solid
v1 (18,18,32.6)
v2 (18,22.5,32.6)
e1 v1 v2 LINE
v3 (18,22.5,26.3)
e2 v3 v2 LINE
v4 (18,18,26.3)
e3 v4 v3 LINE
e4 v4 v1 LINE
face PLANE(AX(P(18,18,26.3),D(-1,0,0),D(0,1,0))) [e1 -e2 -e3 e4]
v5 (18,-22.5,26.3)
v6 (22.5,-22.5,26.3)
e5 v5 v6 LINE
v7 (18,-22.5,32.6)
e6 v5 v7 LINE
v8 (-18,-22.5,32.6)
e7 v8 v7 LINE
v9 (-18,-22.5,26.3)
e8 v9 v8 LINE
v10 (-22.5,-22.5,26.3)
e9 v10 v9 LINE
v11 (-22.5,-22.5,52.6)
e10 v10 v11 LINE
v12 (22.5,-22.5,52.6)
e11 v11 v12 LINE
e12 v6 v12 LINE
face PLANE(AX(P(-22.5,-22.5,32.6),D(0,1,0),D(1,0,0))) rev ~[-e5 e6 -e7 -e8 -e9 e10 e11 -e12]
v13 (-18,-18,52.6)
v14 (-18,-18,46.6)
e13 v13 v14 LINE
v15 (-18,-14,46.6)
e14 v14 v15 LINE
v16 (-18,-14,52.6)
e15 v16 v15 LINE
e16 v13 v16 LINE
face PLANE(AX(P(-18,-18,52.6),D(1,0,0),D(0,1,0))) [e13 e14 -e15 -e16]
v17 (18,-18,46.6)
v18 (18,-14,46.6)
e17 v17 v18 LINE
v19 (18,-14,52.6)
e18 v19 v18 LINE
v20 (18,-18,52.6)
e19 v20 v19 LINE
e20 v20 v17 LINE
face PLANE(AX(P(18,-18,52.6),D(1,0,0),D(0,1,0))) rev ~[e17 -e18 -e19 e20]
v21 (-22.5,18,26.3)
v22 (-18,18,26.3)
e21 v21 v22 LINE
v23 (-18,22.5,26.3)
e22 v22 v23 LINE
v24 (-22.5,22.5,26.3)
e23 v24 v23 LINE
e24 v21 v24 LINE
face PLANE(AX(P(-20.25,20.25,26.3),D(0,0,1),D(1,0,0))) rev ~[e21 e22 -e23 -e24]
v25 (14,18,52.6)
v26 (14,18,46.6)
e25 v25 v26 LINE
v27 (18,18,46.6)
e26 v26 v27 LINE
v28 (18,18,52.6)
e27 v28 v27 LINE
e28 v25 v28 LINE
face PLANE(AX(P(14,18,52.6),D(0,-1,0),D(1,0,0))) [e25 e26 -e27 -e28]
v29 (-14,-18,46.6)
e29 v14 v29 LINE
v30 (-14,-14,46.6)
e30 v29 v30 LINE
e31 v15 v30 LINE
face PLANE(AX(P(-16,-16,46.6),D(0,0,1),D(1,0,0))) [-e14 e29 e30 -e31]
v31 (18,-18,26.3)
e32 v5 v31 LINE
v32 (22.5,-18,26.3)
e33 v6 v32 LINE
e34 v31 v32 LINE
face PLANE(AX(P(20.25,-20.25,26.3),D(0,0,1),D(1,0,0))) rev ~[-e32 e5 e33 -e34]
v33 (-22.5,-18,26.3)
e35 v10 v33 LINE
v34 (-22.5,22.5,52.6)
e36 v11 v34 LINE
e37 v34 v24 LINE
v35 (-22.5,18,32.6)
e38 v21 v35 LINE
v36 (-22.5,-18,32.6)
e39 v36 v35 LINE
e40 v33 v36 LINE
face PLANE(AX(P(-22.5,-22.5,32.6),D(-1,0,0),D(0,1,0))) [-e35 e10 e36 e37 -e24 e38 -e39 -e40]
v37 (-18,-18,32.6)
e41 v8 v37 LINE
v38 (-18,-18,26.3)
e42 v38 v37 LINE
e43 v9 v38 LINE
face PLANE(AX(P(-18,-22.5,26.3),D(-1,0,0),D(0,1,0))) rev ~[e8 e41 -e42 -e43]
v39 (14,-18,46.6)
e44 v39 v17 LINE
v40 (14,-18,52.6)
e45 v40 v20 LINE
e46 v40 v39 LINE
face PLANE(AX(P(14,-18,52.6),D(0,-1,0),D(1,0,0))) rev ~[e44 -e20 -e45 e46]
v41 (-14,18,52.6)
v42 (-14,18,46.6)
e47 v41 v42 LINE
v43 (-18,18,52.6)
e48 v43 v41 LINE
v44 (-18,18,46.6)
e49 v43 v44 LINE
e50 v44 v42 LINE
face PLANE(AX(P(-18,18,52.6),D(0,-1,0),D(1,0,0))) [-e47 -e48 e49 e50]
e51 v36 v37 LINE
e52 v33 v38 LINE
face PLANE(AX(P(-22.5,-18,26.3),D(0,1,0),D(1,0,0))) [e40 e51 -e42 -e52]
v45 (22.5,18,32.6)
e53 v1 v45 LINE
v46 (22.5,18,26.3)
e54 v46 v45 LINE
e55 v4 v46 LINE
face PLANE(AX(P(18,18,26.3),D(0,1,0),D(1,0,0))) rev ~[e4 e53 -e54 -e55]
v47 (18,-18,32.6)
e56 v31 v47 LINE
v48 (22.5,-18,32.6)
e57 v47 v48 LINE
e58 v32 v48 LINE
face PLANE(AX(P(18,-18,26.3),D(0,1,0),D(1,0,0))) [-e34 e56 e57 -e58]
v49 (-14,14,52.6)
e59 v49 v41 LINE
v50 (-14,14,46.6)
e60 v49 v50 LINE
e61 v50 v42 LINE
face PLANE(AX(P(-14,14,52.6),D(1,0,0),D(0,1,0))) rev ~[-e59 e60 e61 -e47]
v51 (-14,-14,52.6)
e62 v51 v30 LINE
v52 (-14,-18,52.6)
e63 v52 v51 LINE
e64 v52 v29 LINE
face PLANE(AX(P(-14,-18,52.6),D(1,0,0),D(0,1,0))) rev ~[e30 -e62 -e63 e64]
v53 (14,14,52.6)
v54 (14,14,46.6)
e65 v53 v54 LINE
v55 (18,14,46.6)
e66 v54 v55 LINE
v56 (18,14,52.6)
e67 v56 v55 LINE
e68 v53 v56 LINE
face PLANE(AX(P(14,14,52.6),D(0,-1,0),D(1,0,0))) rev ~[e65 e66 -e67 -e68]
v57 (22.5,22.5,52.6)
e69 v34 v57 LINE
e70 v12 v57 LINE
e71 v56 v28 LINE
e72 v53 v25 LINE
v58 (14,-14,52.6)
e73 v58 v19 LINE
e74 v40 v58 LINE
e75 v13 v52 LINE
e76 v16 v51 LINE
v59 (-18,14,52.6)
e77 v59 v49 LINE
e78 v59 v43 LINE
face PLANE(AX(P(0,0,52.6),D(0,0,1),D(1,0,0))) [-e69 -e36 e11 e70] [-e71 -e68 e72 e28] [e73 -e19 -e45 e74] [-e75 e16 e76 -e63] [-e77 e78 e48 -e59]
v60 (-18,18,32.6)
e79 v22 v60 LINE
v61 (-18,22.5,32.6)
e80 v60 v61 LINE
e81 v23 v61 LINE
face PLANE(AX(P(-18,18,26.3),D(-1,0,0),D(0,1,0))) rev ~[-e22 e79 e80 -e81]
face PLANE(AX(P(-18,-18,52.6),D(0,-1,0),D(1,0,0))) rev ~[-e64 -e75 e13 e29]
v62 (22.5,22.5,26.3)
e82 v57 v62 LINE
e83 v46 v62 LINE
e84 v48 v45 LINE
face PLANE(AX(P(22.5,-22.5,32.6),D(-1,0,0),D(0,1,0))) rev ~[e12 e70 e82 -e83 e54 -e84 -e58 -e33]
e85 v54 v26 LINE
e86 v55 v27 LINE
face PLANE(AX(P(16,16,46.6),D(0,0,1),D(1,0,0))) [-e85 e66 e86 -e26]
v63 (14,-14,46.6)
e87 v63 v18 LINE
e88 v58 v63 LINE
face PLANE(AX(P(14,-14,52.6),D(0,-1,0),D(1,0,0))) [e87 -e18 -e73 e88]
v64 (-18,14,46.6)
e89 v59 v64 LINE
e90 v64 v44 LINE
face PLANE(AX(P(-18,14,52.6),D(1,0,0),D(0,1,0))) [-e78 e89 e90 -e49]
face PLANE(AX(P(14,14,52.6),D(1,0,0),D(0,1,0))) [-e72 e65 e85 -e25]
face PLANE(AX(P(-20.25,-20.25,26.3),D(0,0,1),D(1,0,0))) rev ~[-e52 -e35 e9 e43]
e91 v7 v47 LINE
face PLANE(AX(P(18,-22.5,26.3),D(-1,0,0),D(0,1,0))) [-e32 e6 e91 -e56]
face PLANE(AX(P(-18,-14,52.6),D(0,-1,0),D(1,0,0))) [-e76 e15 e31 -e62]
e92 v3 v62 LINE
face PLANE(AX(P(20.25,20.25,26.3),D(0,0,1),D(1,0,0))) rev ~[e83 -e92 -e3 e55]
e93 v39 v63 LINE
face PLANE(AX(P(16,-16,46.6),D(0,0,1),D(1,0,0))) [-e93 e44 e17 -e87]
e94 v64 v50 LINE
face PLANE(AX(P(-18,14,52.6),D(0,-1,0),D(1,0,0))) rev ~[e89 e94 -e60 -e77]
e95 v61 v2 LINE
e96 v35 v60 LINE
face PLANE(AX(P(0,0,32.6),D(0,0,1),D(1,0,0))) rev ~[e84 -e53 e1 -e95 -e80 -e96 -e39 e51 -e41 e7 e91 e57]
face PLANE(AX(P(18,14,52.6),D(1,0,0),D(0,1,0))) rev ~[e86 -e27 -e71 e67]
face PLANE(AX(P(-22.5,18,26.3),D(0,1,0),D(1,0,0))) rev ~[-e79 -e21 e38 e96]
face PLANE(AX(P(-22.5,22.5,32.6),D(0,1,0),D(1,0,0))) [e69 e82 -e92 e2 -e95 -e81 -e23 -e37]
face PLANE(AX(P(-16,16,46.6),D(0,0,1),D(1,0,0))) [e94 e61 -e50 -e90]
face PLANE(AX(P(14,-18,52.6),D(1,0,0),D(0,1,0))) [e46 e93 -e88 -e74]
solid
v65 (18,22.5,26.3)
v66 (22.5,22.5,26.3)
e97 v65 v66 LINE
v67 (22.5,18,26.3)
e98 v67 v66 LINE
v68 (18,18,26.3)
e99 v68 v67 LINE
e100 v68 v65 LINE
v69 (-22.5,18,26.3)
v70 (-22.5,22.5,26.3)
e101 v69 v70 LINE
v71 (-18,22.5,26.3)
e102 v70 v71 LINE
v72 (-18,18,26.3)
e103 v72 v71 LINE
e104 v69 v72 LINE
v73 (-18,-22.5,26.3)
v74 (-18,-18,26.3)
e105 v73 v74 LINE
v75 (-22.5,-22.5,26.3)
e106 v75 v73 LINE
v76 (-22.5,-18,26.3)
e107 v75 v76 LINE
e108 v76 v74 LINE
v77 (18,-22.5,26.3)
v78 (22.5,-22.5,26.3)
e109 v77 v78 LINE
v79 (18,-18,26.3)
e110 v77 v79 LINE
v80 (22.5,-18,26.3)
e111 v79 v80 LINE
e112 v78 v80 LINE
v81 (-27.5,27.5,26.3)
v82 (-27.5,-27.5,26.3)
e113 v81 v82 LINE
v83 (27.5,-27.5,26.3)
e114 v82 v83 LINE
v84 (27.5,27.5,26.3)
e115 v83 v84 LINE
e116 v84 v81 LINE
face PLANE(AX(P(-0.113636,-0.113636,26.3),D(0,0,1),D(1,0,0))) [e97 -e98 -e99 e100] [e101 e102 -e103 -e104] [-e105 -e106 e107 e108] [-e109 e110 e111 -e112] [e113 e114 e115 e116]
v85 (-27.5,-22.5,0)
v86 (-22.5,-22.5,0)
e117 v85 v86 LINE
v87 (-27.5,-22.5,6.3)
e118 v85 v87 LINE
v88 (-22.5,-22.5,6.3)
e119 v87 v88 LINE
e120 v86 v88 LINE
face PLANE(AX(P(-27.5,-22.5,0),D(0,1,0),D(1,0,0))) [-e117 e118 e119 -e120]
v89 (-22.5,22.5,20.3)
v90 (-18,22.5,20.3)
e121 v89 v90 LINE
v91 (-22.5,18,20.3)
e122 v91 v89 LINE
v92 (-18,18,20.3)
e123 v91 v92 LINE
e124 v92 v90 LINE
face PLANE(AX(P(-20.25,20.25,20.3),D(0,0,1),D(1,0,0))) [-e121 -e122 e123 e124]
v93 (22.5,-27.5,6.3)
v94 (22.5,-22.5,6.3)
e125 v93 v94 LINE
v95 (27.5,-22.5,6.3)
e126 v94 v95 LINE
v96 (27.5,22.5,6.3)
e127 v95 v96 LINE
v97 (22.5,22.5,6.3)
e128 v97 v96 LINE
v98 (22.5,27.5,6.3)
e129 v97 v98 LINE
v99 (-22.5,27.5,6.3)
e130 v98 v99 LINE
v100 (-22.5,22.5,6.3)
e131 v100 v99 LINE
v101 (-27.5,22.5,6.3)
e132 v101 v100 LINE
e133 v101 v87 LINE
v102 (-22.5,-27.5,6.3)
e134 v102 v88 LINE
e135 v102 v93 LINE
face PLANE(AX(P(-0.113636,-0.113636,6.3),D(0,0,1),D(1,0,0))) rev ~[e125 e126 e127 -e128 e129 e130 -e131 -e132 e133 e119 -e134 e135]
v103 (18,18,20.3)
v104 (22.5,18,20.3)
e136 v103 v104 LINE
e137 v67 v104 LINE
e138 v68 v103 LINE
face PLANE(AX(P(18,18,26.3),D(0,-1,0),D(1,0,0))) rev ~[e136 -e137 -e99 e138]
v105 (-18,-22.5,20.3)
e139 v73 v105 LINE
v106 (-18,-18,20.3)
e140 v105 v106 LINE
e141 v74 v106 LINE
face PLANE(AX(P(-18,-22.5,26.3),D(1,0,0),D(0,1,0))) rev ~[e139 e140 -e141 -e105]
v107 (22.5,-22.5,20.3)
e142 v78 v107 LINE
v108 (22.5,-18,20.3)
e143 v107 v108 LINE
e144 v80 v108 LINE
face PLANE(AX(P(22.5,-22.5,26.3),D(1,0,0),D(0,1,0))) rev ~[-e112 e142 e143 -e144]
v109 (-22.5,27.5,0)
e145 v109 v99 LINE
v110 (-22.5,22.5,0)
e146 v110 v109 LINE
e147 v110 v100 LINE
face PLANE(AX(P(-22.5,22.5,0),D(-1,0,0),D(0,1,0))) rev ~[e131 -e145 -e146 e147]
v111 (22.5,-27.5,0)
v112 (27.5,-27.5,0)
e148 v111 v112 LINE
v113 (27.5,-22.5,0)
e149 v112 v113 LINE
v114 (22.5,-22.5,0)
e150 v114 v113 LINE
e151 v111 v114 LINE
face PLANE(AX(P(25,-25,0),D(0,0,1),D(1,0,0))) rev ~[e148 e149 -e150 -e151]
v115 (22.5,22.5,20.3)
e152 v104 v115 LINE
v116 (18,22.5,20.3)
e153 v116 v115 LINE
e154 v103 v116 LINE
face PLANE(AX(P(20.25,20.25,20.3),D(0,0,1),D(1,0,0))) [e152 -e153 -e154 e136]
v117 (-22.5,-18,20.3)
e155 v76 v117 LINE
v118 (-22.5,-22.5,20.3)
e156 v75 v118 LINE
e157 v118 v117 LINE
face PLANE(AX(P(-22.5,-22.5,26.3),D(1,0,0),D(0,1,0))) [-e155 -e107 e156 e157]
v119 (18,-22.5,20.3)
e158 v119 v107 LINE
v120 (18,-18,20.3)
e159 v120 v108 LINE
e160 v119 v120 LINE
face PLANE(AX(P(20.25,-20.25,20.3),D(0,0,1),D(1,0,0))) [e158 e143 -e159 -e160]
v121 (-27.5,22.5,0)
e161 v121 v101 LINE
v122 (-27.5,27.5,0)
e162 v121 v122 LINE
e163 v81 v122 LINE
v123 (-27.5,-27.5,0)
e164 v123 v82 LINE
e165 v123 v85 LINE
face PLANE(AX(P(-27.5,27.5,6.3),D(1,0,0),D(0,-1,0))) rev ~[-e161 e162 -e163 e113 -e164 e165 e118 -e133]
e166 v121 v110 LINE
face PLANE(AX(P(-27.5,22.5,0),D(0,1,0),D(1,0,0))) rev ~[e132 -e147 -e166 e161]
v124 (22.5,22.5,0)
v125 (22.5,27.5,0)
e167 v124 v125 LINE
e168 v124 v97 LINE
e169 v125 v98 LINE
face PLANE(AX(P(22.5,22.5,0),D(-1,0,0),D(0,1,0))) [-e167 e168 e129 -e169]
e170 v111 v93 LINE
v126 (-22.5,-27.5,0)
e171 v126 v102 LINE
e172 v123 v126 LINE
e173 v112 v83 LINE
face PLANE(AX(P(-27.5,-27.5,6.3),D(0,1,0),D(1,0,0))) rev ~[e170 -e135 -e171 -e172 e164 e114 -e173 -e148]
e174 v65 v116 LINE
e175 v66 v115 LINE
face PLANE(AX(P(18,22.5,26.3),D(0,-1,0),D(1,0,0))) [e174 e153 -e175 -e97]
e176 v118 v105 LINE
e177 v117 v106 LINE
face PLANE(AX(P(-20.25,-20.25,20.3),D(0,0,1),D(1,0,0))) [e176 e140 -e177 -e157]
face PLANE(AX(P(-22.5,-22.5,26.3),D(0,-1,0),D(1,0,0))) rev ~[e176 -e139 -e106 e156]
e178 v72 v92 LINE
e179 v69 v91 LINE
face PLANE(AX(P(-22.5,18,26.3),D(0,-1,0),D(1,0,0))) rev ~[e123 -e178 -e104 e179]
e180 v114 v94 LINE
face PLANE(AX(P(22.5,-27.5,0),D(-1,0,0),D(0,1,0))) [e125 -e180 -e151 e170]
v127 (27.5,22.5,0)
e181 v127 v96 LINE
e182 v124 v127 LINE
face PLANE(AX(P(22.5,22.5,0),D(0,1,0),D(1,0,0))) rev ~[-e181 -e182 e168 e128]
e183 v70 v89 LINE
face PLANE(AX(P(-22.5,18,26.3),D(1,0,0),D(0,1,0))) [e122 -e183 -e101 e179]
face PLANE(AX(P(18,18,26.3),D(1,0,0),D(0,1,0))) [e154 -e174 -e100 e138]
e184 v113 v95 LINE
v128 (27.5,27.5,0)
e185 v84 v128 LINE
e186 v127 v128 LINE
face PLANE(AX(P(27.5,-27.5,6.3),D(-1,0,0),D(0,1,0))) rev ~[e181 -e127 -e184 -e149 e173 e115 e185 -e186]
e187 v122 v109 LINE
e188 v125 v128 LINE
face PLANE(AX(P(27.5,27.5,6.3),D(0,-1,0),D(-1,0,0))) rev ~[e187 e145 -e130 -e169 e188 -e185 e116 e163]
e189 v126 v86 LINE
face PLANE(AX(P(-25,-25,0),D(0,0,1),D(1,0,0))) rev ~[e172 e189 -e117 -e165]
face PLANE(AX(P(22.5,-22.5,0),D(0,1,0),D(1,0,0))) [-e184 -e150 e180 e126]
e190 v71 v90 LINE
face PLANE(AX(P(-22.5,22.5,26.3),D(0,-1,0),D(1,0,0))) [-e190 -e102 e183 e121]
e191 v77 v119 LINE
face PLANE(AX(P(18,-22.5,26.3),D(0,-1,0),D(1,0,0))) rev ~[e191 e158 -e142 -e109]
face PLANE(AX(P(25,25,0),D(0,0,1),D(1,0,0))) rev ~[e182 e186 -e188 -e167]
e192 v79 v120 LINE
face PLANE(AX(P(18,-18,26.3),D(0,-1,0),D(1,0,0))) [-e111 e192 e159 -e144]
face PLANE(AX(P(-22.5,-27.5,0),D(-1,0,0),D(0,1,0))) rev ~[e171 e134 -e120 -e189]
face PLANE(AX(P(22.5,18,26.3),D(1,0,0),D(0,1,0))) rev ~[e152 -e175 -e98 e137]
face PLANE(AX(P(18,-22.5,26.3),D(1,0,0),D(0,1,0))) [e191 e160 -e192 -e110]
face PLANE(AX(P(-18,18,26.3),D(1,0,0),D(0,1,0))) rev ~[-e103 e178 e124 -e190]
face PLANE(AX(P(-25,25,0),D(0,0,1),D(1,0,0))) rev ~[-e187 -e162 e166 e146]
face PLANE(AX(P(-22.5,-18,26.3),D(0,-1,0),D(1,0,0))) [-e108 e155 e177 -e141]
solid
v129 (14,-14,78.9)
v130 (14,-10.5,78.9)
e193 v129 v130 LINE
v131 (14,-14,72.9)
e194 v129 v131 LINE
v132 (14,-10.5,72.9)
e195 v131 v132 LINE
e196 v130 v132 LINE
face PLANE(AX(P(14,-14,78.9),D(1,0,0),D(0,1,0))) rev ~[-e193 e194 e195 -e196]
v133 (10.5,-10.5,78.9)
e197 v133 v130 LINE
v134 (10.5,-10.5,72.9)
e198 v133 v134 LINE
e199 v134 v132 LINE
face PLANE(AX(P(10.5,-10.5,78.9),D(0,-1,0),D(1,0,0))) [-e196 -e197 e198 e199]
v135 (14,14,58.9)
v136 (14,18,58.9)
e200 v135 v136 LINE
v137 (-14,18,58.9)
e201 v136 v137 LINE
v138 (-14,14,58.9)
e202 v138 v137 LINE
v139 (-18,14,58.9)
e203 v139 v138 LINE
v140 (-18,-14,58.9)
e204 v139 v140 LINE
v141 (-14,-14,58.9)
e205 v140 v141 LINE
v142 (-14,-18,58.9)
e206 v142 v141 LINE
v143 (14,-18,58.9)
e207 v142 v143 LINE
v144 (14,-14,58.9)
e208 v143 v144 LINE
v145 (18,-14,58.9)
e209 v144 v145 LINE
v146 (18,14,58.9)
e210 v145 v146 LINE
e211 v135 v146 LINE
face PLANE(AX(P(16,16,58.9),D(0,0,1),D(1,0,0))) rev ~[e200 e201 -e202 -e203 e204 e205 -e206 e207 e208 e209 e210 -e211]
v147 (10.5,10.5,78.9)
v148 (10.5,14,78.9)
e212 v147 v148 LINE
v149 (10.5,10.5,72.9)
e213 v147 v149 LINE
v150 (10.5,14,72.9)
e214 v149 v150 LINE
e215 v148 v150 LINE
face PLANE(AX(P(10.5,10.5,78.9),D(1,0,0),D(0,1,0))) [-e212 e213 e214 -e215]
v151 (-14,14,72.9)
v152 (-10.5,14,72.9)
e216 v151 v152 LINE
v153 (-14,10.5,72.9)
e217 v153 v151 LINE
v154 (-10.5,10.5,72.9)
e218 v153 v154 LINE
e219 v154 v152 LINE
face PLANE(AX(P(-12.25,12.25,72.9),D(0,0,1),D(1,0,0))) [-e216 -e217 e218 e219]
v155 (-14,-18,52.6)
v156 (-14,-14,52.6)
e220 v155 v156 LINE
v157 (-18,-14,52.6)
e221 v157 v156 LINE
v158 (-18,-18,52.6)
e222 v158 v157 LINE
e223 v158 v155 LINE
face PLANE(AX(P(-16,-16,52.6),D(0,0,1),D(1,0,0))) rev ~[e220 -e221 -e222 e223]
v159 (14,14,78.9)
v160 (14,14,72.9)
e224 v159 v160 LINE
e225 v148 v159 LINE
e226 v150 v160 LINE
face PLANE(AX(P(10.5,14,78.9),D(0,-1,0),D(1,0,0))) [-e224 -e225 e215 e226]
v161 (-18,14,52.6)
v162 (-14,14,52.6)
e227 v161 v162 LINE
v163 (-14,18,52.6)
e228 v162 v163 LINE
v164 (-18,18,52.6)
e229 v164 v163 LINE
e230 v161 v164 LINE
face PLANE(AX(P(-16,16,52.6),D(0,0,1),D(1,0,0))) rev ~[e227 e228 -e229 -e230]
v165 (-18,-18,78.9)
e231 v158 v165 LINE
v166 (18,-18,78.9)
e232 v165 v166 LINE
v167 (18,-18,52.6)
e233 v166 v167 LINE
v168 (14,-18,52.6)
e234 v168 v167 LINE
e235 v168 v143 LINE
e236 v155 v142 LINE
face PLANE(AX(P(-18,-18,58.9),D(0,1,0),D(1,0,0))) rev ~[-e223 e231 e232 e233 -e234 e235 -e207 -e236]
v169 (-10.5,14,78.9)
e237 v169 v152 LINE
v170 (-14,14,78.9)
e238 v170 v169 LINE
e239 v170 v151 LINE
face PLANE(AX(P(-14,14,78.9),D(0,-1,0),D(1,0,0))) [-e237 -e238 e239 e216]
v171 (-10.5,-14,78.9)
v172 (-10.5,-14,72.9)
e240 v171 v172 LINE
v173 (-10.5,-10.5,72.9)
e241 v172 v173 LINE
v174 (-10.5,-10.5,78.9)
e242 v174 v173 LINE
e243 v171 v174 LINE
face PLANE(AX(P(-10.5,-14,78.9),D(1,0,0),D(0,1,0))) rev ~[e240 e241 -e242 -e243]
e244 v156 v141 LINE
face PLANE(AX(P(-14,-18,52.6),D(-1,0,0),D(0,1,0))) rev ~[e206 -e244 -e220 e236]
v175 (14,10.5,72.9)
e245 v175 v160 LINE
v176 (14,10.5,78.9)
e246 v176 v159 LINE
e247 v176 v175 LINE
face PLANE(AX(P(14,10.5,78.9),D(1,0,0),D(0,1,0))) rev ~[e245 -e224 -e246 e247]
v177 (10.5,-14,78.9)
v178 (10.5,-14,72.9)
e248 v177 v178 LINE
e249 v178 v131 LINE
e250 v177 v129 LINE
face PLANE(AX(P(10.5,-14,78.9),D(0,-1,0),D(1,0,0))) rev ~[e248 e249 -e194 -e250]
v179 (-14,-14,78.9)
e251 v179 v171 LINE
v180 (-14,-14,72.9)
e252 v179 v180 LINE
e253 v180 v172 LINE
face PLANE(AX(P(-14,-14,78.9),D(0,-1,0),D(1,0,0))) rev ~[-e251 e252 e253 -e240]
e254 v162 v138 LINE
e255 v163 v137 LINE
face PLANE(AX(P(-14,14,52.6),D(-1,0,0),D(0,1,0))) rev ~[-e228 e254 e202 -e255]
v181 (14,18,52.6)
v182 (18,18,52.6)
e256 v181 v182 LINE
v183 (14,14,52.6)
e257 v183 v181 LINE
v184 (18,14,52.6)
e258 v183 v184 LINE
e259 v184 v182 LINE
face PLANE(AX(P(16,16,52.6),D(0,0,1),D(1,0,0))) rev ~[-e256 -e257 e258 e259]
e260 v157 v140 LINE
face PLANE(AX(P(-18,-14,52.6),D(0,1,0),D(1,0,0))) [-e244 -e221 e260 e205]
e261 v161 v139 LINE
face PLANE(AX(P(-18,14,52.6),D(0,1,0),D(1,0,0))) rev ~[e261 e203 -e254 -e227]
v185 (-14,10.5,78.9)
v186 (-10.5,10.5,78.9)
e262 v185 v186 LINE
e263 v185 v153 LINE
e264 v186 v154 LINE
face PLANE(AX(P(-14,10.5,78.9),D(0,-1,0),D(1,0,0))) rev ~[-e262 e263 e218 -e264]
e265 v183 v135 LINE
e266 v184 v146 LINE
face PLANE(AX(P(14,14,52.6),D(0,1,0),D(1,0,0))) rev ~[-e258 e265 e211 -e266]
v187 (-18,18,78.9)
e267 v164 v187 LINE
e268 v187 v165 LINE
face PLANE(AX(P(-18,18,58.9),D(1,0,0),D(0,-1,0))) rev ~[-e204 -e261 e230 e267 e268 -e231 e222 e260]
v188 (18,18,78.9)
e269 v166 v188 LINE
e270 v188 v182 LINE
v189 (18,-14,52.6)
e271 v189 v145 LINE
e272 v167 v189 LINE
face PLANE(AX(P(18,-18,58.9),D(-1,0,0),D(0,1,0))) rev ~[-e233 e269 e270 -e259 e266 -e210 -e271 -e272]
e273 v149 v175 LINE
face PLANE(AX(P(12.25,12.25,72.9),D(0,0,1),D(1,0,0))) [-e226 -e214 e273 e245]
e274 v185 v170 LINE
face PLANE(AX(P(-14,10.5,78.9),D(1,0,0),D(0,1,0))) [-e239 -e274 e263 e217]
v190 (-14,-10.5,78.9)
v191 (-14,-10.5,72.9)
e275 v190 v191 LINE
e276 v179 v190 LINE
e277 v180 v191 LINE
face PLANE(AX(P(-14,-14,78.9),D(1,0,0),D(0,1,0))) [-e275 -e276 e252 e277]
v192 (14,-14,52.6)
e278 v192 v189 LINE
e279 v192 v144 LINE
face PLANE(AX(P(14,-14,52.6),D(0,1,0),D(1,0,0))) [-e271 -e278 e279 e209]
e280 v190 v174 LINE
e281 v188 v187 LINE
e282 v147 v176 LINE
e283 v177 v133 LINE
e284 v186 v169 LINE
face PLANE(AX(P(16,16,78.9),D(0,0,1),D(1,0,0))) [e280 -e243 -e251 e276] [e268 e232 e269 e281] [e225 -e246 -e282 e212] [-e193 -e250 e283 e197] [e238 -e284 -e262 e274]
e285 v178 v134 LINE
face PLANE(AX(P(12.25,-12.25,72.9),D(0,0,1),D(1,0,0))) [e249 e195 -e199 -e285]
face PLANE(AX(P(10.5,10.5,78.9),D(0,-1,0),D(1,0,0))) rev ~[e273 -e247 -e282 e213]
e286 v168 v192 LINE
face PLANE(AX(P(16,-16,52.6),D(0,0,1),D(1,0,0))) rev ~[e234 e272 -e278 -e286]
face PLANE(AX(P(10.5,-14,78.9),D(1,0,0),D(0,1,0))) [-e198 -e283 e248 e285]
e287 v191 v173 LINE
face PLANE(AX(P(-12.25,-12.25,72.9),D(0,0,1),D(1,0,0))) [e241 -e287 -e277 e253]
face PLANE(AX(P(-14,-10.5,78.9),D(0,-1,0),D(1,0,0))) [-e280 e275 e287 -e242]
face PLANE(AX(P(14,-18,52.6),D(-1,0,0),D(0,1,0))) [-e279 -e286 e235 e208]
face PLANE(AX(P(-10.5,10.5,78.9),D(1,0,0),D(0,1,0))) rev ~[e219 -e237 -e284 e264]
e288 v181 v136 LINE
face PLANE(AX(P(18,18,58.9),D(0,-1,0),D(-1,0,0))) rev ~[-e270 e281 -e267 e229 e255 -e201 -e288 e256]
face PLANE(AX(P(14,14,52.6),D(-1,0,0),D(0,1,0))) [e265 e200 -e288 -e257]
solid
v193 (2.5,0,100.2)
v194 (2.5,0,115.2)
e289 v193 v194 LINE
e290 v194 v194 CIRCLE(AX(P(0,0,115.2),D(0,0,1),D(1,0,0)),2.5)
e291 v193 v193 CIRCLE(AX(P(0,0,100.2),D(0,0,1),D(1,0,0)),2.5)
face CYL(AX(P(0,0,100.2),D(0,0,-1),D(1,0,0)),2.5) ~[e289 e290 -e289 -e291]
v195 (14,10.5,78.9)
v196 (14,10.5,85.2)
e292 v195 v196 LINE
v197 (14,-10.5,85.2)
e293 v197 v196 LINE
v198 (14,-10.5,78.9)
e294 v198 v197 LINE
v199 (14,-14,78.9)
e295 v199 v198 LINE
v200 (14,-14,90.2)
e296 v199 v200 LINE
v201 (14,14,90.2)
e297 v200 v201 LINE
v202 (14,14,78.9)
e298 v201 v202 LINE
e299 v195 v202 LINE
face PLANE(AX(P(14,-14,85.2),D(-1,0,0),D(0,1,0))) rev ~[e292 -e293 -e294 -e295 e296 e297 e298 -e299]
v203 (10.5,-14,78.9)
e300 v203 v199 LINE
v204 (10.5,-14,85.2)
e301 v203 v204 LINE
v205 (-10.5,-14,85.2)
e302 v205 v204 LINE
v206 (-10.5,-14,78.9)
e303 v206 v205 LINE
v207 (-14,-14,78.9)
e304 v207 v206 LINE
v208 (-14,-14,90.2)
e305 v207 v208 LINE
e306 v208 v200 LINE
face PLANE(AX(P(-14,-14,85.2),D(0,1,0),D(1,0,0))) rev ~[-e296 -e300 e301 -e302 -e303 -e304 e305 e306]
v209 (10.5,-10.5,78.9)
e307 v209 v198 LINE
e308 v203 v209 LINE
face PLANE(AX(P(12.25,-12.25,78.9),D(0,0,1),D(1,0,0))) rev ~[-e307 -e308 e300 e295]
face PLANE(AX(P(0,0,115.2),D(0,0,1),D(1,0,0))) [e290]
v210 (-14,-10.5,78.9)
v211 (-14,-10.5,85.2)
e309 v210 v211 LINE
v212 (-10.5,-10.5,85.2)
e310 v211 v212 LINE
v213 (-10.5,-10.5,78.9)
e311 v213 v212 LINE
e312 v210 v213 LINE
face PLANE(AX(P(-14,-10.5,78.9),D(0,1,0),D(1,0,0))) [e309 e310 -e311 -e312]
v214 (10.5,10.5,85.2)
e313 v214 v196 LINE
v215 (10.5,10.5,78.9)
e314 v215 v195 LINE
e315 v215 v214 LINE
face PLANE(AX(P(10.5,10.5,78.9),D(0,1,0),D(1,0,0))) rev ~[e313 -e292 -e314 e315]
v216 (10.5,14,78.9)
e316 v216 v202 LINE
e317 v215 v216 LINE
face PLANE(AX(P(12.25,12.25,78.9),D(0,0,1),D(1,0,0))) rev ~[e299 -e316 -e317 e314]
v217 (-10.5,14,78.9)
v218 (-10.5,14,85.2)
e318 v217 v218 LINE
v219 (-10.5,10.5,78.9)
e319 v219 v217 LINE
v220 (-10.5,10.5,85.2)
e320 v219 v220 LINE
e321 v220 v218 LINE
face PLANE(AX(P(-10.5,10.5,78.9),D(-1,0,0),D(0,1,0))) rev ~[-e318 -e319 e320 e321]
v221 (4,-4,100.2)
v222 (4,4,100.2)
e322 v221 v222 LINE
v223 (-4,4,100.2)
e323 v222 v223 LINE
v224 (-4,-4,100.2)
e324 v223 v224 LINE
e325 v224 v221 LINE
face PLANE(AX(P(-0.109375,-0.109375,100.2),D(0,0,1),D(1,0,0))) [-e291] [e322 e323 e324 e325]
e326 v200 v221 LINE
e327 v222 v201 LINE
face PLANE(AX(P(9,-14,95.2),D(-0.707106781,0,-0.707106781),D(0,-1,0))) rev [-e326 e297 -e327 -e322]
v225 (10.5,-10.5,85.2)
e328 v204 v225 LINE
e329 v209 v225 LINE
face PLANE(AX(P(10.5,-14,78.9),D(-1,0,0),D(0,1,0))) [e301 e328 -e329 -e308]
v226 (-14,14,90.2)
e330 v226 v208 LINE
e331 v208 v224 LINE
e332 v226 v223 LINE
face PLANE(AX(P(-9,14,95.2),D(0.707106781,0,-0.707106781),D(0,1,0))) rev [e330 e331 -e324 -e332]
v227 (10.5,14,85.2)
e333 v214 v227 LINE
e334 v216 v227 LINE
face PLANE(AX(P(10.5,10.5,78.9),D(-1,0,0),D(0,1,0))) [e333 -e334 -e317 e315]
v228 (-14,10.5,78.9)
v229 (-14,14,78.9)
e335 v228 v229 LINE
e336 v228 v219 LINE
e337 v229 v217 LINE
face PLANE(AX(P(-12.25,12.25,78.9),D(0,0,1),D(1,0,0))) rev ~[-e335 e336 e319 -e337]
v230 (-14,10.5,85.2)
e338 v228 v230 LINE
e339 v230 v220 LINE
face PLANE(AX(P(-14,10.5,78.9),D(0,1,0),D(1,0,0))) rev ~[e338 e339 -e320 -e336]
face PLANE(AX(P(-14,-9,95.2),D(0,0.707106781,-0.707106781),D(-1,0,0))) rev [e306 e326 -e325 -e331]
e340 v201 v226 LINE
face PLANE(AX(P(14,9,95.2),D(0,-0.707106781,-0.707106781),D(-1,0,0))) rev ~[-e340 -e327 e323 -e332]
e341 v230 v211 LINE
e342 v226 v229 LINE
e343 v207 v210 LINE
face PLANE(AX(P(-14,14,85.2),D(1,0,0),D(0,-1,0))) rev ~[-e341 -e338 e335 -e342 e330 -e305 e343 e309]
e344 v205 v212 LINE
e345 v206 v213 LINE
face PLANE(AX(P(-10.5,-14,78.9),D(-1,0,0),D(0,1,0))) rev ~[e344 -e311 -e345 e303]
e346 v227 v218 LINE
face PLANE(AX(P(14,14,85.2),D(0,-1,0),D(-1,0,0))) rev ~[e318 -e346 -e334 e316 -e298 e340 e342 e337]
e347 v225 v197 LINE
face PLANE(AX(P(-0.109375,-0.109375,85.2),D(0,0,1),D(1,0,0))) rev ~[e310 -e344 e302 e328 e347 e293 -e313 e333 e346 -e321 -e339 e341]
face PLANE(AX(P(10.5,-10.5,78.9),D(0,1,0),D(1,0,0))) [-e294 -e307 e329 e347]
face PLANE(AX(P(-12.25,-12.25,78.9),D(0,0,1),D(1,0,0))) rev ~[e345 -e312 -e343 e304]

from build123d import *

# Parameters (mm, degrees)
F0_W      = 5
F0_H      = 5
F1_DEPTH  = 6.3
F2_W      = 5
F2_H      = 5
F3_DEPTH  = 20
F4_W      = 4.5
F4_H      = 4.5
F5_DEPTH  = 6.3
F6_W      = 45
F6_H      = 45
F7_DEPTH  = 20
F8_W      = 4
F8_H      = 4
F9_DEPTH  = 6.3
F10_W     = 4
F10_H     = 4
F11_DEPTH = 20
F12_W     = 3.5
F12_H     = 3.5
F13_DEPTH = 6.3
F14_W     = 3.5
F14_H     = 3.5
F15_DEPTH = 15
F16_SIZE  = 10
F17_R     = 2.5
F18_DEPTH = 15
F19_DEPTH = 6
F20_DEPTH = 6
F21_DEPTH = 6


with BuildPart() as f1:
    # F0 (on Top) → F1 (new body)
    with BuildSketch(Plane.XY):
        with Locations((25, 25)):
            Rectangle(F0_W, F0_H)
    extrude(amount=F1_DEPTH)



with BuildPart() as f1b:
    # F0 (on Top) → F1, piece 2 (new body)
    with BuildSketch(Plane.XY):
        with Locations((-25, 25)):
            Rectangle(F0_W, F0_H)
    extrude(amount=F1_DEPTH)


with BuildPart() as f1c:
    # F0 (on Top) → F1, piece 3 (new body)
    with BuildSketch(Plane.XY):
        with Locations((-25, -25)):
            Rectangle(F0_W, F0_H)
    extrude(amount=F1_DEPTH)


with BuildPart() as f1d:
    # F0 (on Top) → F1, piece 4 (new body)
    with BuildSketch(Plane.XY):
        with Locations((25, -25)):
            Rectangle(F0_W, F0_H)
    extrude(amount=F1_DEPTH)


with BuildPart() as f1_1:
    add(f1.part)

    add(f1b.part)  # F3 merges F1b

    add(f1c.part)  # F3 merges F1c

    add(f1d.part)  # F3 merges F1d
    # F2 (on face) → F3 (join)
    with BuildSketch(Plane.XY.offset(6.3)):
        Polygon((22.5, 22.5), (22.5, 27.5), (-27.5, 27.5), (-27.5, -27.5), (27.5, -27.5), (27.5, 22.5), align=None)
        with Locations((25, 25)):
            Rectangle(F2_W, F2_H)
    extrude(amount=F3_DEPTH)

    # F4 (on face) → F21 (cut)
    with BuildSketch(Plane.XY.offset(26.3)):
        with Locations((-20.25, 20.25)):
            Rectangle(F4_W, F4_H)
        with Locations((20.25, 20.25)):
            Rectangle(F4_W, F4_H)
        with Locations((20.25, -20.25)):
            Rectangle(F4_W, F4_H)
        with Locations((-20.25, -20.25)):
            Rectangle(F4_W, F4_H)
    extrude(amount=-F21_DEPTH, mode=Mode.SUBTRACT)


with BuildPart() as f5:
    # F4 (on face) → F5 (new body)
    with BuildSketch(Plane.XY.offset(26.3)):
        with Locations((-20.25, 20.25)):
            Rectangle(F4_W, F4_H)
    extrude(amount=F5_DEPTH)



with BuildPart() as f5b:
    # F4 (on face) → F5, piece 2 (new body)
    with BuildSketch(Plane.XY.offset(26.3)):
        with Locations((20.25, 20.25)):
            Rectangle(F4_W, F4_H)
    extrude(amount=F5_DEPTH)


with BuildPart() as f5c:
    # F4 (on face) → F5, piece 3 (new body)
    with BuildSketch(Plane.XY.offset(26.3)):
        with Locations((20.25, -20.25)):
            Rectangle(F4_W, F4_H)
    extrude(amount=F5_DEPTH)


with BuildPart() as f5d:
    # F4 (on face) → F5, piece 4 (new body)
    with BuildSketch(Plane.XY.offset(26.3)):
        with Locations((-20.25, -20.25)):
            Rectangle(F4_W, F4_H)
    extrude(amount=F5_DEPTH)


with BuildPart() as f5_1:
    add(f5.part)

    add(f5b.part)  # F7 merges F5b

    add(f5c.part)  # F7 merges F5c

    add(f5d.part)  # F7 merges F5d
    # F6 (on face) → F7 (join)
    with BuildSketch(Plane.XY.offset(32.6)):
        Rectangle(F6_W, F6_H)
    extrude(amount=F7_DEPTH)

    # F8 (on face) → F19 (cut)
    with BuildSketch(Plane.XY.offset(52.6)):
        with Locations((-16, 16)):
            Rectangle(F8_W, F8_H)
        with Locations((16, 16)):
            Rectangle(F8_W, F8_H)
        with Locations((16, -16)):
            Rectangle(F8_W, F8_H)
        with Locations((-16, -16)):
            Rectangle(F8_W, F8_H)
    extrude(amount=-F19_DEPTH, mode=Mode.SUBTRACT)


with BuildPart() as f9:
    # F8 (on face) → F9 (new body)
    with BuildSketch(Plane.XY.offset(52.6)):
        with Locations((16, 16)):
            Rectangle(F8_W, F8_H)
    extrude(amount=F9_DEPTH)



with BuildPart() as f9b:
    # F8 (on face) → F9, piece 2 (new body)
    with BuildSketch(Plane.XY.offset(52.6)):
        with Locations((16, -16)):
            Rectangle(F8_W, F8_H)
    extrude(amount=F9_DEPTH)


with BuildPart() as f9c:
    # F8 (on face) → F9, piece 3 (new body)
    with BuildSketch(Plane.XY.offset(52.6)):
        with Locations((-16, -16)):
            Rectangle(F8_W, F8_H)
    extrude(amount=F9_DEPTH)


with BuildPart() as f9d:
    # F8 (on face) → F9, piece 4 (new body)
    with BuildSketch(Plane.XY.offset(52.6)):
        with Locations((-16, 16)):
            Rectangle(F8_W, F8_H)
    extrude(amount=F9_DEPTH)


with BuildPart() as f9_1:
    add(f9.part)

    add(f9b.part)  # F11 merges F9b

    add(f9c.part)  # F11 merges F9c

    add(f9d.part)  # F11 merges F9d
    # F10 (on face) → F11 (join)
    with BuildSketch(Plane.XY.offset(58.9)):
        with Locations((16, 16)):
            Rectangle(F10_W, F10_H)
        Polygon((14, 14), (14, 18), (-14, 18), (-14, 14), (-18, 14), (-18, -14), (-14, -14), (-14, -18), (14, -18), (14, -14), (18, -14), (18, 14), align=None)
        with Locations((-16, 16)):
            Rectangle(F10_W, F10_H)
        with Locations((16, -16)):
            Rectangle(F10_W, F10_H)
        with Locations((-16, -16)):
            Rectangle(F10_W, F10_H)
    extrude(amount=F11_DEPTH)

    # F12 (on face) → F13 (join)
    with BuildSketch(Plane.XY.offset(78.9)):
        with Locations((-12.25, 12.25)):
            Rectangle(F12_W, F12_H)
        with Locations((12.25, 12.25)):
            Rectangle(F12_W, F12_H)
        with Locations((12.25, -12.25)):
            Rectangle(F12_W, F12_H)
        with Locations((-12.25, -12.25)):
            Rectangle(F12_W, F12_H)
    extrude(amount=F13_DEPTH)

    # F14 (on face) → F15 (join)
    with BuildSketch(Plane.XY.offset(85.2)):
        Polygon((10.5, 10.5), (10.5, 14), (-14, 14), (-14, -14), (14, -14), (14, 10.5), align=None)
        with Locations((12.25, 12.25)):
            Rectangle(F14_W, F14_H)
    extrude(amount=F15_DEPTH)

    # F16
    f16_edges = [f9_1.edges().sort_by_distance(p)[0] for p in [
        (0, -14, 100.2),
        (-14, 0, 100.2),
        (0, 14, 100.2),
        (14, 0, 100.2),
    ]]
    chamfer(f16_edges, length=F16_SIZE)

    # F17 (on face) → F18 (join)
    with BuildSketch(Plane.XY.offset(100.2)):
        Circle(F17_R)
    extrude(amount=F18_DEPTH)

    # F12 (on face) → F20 (cut)
    with BuildSketch(Plane.XY.offset(78.9)):
        with Locations((-12.25, 12.25)):
            Rectangle(F12_W, F12_H)
        with Locations((12.25, 12.25)):
            Rectangle(F12_W, F12_H)
        with Locations((12.25, -12.25)):
            Rectangle(F12_W, F12_H)
        with Locations((-12.25, -12.25)):
            Rectangle(F12_W, F12_H)
    extrude(amount=-F20_DEPTH, mode=Mode.SUBTRACT)


solid = Compound([f1_1.part, f5_1.part, f9_1.part])
